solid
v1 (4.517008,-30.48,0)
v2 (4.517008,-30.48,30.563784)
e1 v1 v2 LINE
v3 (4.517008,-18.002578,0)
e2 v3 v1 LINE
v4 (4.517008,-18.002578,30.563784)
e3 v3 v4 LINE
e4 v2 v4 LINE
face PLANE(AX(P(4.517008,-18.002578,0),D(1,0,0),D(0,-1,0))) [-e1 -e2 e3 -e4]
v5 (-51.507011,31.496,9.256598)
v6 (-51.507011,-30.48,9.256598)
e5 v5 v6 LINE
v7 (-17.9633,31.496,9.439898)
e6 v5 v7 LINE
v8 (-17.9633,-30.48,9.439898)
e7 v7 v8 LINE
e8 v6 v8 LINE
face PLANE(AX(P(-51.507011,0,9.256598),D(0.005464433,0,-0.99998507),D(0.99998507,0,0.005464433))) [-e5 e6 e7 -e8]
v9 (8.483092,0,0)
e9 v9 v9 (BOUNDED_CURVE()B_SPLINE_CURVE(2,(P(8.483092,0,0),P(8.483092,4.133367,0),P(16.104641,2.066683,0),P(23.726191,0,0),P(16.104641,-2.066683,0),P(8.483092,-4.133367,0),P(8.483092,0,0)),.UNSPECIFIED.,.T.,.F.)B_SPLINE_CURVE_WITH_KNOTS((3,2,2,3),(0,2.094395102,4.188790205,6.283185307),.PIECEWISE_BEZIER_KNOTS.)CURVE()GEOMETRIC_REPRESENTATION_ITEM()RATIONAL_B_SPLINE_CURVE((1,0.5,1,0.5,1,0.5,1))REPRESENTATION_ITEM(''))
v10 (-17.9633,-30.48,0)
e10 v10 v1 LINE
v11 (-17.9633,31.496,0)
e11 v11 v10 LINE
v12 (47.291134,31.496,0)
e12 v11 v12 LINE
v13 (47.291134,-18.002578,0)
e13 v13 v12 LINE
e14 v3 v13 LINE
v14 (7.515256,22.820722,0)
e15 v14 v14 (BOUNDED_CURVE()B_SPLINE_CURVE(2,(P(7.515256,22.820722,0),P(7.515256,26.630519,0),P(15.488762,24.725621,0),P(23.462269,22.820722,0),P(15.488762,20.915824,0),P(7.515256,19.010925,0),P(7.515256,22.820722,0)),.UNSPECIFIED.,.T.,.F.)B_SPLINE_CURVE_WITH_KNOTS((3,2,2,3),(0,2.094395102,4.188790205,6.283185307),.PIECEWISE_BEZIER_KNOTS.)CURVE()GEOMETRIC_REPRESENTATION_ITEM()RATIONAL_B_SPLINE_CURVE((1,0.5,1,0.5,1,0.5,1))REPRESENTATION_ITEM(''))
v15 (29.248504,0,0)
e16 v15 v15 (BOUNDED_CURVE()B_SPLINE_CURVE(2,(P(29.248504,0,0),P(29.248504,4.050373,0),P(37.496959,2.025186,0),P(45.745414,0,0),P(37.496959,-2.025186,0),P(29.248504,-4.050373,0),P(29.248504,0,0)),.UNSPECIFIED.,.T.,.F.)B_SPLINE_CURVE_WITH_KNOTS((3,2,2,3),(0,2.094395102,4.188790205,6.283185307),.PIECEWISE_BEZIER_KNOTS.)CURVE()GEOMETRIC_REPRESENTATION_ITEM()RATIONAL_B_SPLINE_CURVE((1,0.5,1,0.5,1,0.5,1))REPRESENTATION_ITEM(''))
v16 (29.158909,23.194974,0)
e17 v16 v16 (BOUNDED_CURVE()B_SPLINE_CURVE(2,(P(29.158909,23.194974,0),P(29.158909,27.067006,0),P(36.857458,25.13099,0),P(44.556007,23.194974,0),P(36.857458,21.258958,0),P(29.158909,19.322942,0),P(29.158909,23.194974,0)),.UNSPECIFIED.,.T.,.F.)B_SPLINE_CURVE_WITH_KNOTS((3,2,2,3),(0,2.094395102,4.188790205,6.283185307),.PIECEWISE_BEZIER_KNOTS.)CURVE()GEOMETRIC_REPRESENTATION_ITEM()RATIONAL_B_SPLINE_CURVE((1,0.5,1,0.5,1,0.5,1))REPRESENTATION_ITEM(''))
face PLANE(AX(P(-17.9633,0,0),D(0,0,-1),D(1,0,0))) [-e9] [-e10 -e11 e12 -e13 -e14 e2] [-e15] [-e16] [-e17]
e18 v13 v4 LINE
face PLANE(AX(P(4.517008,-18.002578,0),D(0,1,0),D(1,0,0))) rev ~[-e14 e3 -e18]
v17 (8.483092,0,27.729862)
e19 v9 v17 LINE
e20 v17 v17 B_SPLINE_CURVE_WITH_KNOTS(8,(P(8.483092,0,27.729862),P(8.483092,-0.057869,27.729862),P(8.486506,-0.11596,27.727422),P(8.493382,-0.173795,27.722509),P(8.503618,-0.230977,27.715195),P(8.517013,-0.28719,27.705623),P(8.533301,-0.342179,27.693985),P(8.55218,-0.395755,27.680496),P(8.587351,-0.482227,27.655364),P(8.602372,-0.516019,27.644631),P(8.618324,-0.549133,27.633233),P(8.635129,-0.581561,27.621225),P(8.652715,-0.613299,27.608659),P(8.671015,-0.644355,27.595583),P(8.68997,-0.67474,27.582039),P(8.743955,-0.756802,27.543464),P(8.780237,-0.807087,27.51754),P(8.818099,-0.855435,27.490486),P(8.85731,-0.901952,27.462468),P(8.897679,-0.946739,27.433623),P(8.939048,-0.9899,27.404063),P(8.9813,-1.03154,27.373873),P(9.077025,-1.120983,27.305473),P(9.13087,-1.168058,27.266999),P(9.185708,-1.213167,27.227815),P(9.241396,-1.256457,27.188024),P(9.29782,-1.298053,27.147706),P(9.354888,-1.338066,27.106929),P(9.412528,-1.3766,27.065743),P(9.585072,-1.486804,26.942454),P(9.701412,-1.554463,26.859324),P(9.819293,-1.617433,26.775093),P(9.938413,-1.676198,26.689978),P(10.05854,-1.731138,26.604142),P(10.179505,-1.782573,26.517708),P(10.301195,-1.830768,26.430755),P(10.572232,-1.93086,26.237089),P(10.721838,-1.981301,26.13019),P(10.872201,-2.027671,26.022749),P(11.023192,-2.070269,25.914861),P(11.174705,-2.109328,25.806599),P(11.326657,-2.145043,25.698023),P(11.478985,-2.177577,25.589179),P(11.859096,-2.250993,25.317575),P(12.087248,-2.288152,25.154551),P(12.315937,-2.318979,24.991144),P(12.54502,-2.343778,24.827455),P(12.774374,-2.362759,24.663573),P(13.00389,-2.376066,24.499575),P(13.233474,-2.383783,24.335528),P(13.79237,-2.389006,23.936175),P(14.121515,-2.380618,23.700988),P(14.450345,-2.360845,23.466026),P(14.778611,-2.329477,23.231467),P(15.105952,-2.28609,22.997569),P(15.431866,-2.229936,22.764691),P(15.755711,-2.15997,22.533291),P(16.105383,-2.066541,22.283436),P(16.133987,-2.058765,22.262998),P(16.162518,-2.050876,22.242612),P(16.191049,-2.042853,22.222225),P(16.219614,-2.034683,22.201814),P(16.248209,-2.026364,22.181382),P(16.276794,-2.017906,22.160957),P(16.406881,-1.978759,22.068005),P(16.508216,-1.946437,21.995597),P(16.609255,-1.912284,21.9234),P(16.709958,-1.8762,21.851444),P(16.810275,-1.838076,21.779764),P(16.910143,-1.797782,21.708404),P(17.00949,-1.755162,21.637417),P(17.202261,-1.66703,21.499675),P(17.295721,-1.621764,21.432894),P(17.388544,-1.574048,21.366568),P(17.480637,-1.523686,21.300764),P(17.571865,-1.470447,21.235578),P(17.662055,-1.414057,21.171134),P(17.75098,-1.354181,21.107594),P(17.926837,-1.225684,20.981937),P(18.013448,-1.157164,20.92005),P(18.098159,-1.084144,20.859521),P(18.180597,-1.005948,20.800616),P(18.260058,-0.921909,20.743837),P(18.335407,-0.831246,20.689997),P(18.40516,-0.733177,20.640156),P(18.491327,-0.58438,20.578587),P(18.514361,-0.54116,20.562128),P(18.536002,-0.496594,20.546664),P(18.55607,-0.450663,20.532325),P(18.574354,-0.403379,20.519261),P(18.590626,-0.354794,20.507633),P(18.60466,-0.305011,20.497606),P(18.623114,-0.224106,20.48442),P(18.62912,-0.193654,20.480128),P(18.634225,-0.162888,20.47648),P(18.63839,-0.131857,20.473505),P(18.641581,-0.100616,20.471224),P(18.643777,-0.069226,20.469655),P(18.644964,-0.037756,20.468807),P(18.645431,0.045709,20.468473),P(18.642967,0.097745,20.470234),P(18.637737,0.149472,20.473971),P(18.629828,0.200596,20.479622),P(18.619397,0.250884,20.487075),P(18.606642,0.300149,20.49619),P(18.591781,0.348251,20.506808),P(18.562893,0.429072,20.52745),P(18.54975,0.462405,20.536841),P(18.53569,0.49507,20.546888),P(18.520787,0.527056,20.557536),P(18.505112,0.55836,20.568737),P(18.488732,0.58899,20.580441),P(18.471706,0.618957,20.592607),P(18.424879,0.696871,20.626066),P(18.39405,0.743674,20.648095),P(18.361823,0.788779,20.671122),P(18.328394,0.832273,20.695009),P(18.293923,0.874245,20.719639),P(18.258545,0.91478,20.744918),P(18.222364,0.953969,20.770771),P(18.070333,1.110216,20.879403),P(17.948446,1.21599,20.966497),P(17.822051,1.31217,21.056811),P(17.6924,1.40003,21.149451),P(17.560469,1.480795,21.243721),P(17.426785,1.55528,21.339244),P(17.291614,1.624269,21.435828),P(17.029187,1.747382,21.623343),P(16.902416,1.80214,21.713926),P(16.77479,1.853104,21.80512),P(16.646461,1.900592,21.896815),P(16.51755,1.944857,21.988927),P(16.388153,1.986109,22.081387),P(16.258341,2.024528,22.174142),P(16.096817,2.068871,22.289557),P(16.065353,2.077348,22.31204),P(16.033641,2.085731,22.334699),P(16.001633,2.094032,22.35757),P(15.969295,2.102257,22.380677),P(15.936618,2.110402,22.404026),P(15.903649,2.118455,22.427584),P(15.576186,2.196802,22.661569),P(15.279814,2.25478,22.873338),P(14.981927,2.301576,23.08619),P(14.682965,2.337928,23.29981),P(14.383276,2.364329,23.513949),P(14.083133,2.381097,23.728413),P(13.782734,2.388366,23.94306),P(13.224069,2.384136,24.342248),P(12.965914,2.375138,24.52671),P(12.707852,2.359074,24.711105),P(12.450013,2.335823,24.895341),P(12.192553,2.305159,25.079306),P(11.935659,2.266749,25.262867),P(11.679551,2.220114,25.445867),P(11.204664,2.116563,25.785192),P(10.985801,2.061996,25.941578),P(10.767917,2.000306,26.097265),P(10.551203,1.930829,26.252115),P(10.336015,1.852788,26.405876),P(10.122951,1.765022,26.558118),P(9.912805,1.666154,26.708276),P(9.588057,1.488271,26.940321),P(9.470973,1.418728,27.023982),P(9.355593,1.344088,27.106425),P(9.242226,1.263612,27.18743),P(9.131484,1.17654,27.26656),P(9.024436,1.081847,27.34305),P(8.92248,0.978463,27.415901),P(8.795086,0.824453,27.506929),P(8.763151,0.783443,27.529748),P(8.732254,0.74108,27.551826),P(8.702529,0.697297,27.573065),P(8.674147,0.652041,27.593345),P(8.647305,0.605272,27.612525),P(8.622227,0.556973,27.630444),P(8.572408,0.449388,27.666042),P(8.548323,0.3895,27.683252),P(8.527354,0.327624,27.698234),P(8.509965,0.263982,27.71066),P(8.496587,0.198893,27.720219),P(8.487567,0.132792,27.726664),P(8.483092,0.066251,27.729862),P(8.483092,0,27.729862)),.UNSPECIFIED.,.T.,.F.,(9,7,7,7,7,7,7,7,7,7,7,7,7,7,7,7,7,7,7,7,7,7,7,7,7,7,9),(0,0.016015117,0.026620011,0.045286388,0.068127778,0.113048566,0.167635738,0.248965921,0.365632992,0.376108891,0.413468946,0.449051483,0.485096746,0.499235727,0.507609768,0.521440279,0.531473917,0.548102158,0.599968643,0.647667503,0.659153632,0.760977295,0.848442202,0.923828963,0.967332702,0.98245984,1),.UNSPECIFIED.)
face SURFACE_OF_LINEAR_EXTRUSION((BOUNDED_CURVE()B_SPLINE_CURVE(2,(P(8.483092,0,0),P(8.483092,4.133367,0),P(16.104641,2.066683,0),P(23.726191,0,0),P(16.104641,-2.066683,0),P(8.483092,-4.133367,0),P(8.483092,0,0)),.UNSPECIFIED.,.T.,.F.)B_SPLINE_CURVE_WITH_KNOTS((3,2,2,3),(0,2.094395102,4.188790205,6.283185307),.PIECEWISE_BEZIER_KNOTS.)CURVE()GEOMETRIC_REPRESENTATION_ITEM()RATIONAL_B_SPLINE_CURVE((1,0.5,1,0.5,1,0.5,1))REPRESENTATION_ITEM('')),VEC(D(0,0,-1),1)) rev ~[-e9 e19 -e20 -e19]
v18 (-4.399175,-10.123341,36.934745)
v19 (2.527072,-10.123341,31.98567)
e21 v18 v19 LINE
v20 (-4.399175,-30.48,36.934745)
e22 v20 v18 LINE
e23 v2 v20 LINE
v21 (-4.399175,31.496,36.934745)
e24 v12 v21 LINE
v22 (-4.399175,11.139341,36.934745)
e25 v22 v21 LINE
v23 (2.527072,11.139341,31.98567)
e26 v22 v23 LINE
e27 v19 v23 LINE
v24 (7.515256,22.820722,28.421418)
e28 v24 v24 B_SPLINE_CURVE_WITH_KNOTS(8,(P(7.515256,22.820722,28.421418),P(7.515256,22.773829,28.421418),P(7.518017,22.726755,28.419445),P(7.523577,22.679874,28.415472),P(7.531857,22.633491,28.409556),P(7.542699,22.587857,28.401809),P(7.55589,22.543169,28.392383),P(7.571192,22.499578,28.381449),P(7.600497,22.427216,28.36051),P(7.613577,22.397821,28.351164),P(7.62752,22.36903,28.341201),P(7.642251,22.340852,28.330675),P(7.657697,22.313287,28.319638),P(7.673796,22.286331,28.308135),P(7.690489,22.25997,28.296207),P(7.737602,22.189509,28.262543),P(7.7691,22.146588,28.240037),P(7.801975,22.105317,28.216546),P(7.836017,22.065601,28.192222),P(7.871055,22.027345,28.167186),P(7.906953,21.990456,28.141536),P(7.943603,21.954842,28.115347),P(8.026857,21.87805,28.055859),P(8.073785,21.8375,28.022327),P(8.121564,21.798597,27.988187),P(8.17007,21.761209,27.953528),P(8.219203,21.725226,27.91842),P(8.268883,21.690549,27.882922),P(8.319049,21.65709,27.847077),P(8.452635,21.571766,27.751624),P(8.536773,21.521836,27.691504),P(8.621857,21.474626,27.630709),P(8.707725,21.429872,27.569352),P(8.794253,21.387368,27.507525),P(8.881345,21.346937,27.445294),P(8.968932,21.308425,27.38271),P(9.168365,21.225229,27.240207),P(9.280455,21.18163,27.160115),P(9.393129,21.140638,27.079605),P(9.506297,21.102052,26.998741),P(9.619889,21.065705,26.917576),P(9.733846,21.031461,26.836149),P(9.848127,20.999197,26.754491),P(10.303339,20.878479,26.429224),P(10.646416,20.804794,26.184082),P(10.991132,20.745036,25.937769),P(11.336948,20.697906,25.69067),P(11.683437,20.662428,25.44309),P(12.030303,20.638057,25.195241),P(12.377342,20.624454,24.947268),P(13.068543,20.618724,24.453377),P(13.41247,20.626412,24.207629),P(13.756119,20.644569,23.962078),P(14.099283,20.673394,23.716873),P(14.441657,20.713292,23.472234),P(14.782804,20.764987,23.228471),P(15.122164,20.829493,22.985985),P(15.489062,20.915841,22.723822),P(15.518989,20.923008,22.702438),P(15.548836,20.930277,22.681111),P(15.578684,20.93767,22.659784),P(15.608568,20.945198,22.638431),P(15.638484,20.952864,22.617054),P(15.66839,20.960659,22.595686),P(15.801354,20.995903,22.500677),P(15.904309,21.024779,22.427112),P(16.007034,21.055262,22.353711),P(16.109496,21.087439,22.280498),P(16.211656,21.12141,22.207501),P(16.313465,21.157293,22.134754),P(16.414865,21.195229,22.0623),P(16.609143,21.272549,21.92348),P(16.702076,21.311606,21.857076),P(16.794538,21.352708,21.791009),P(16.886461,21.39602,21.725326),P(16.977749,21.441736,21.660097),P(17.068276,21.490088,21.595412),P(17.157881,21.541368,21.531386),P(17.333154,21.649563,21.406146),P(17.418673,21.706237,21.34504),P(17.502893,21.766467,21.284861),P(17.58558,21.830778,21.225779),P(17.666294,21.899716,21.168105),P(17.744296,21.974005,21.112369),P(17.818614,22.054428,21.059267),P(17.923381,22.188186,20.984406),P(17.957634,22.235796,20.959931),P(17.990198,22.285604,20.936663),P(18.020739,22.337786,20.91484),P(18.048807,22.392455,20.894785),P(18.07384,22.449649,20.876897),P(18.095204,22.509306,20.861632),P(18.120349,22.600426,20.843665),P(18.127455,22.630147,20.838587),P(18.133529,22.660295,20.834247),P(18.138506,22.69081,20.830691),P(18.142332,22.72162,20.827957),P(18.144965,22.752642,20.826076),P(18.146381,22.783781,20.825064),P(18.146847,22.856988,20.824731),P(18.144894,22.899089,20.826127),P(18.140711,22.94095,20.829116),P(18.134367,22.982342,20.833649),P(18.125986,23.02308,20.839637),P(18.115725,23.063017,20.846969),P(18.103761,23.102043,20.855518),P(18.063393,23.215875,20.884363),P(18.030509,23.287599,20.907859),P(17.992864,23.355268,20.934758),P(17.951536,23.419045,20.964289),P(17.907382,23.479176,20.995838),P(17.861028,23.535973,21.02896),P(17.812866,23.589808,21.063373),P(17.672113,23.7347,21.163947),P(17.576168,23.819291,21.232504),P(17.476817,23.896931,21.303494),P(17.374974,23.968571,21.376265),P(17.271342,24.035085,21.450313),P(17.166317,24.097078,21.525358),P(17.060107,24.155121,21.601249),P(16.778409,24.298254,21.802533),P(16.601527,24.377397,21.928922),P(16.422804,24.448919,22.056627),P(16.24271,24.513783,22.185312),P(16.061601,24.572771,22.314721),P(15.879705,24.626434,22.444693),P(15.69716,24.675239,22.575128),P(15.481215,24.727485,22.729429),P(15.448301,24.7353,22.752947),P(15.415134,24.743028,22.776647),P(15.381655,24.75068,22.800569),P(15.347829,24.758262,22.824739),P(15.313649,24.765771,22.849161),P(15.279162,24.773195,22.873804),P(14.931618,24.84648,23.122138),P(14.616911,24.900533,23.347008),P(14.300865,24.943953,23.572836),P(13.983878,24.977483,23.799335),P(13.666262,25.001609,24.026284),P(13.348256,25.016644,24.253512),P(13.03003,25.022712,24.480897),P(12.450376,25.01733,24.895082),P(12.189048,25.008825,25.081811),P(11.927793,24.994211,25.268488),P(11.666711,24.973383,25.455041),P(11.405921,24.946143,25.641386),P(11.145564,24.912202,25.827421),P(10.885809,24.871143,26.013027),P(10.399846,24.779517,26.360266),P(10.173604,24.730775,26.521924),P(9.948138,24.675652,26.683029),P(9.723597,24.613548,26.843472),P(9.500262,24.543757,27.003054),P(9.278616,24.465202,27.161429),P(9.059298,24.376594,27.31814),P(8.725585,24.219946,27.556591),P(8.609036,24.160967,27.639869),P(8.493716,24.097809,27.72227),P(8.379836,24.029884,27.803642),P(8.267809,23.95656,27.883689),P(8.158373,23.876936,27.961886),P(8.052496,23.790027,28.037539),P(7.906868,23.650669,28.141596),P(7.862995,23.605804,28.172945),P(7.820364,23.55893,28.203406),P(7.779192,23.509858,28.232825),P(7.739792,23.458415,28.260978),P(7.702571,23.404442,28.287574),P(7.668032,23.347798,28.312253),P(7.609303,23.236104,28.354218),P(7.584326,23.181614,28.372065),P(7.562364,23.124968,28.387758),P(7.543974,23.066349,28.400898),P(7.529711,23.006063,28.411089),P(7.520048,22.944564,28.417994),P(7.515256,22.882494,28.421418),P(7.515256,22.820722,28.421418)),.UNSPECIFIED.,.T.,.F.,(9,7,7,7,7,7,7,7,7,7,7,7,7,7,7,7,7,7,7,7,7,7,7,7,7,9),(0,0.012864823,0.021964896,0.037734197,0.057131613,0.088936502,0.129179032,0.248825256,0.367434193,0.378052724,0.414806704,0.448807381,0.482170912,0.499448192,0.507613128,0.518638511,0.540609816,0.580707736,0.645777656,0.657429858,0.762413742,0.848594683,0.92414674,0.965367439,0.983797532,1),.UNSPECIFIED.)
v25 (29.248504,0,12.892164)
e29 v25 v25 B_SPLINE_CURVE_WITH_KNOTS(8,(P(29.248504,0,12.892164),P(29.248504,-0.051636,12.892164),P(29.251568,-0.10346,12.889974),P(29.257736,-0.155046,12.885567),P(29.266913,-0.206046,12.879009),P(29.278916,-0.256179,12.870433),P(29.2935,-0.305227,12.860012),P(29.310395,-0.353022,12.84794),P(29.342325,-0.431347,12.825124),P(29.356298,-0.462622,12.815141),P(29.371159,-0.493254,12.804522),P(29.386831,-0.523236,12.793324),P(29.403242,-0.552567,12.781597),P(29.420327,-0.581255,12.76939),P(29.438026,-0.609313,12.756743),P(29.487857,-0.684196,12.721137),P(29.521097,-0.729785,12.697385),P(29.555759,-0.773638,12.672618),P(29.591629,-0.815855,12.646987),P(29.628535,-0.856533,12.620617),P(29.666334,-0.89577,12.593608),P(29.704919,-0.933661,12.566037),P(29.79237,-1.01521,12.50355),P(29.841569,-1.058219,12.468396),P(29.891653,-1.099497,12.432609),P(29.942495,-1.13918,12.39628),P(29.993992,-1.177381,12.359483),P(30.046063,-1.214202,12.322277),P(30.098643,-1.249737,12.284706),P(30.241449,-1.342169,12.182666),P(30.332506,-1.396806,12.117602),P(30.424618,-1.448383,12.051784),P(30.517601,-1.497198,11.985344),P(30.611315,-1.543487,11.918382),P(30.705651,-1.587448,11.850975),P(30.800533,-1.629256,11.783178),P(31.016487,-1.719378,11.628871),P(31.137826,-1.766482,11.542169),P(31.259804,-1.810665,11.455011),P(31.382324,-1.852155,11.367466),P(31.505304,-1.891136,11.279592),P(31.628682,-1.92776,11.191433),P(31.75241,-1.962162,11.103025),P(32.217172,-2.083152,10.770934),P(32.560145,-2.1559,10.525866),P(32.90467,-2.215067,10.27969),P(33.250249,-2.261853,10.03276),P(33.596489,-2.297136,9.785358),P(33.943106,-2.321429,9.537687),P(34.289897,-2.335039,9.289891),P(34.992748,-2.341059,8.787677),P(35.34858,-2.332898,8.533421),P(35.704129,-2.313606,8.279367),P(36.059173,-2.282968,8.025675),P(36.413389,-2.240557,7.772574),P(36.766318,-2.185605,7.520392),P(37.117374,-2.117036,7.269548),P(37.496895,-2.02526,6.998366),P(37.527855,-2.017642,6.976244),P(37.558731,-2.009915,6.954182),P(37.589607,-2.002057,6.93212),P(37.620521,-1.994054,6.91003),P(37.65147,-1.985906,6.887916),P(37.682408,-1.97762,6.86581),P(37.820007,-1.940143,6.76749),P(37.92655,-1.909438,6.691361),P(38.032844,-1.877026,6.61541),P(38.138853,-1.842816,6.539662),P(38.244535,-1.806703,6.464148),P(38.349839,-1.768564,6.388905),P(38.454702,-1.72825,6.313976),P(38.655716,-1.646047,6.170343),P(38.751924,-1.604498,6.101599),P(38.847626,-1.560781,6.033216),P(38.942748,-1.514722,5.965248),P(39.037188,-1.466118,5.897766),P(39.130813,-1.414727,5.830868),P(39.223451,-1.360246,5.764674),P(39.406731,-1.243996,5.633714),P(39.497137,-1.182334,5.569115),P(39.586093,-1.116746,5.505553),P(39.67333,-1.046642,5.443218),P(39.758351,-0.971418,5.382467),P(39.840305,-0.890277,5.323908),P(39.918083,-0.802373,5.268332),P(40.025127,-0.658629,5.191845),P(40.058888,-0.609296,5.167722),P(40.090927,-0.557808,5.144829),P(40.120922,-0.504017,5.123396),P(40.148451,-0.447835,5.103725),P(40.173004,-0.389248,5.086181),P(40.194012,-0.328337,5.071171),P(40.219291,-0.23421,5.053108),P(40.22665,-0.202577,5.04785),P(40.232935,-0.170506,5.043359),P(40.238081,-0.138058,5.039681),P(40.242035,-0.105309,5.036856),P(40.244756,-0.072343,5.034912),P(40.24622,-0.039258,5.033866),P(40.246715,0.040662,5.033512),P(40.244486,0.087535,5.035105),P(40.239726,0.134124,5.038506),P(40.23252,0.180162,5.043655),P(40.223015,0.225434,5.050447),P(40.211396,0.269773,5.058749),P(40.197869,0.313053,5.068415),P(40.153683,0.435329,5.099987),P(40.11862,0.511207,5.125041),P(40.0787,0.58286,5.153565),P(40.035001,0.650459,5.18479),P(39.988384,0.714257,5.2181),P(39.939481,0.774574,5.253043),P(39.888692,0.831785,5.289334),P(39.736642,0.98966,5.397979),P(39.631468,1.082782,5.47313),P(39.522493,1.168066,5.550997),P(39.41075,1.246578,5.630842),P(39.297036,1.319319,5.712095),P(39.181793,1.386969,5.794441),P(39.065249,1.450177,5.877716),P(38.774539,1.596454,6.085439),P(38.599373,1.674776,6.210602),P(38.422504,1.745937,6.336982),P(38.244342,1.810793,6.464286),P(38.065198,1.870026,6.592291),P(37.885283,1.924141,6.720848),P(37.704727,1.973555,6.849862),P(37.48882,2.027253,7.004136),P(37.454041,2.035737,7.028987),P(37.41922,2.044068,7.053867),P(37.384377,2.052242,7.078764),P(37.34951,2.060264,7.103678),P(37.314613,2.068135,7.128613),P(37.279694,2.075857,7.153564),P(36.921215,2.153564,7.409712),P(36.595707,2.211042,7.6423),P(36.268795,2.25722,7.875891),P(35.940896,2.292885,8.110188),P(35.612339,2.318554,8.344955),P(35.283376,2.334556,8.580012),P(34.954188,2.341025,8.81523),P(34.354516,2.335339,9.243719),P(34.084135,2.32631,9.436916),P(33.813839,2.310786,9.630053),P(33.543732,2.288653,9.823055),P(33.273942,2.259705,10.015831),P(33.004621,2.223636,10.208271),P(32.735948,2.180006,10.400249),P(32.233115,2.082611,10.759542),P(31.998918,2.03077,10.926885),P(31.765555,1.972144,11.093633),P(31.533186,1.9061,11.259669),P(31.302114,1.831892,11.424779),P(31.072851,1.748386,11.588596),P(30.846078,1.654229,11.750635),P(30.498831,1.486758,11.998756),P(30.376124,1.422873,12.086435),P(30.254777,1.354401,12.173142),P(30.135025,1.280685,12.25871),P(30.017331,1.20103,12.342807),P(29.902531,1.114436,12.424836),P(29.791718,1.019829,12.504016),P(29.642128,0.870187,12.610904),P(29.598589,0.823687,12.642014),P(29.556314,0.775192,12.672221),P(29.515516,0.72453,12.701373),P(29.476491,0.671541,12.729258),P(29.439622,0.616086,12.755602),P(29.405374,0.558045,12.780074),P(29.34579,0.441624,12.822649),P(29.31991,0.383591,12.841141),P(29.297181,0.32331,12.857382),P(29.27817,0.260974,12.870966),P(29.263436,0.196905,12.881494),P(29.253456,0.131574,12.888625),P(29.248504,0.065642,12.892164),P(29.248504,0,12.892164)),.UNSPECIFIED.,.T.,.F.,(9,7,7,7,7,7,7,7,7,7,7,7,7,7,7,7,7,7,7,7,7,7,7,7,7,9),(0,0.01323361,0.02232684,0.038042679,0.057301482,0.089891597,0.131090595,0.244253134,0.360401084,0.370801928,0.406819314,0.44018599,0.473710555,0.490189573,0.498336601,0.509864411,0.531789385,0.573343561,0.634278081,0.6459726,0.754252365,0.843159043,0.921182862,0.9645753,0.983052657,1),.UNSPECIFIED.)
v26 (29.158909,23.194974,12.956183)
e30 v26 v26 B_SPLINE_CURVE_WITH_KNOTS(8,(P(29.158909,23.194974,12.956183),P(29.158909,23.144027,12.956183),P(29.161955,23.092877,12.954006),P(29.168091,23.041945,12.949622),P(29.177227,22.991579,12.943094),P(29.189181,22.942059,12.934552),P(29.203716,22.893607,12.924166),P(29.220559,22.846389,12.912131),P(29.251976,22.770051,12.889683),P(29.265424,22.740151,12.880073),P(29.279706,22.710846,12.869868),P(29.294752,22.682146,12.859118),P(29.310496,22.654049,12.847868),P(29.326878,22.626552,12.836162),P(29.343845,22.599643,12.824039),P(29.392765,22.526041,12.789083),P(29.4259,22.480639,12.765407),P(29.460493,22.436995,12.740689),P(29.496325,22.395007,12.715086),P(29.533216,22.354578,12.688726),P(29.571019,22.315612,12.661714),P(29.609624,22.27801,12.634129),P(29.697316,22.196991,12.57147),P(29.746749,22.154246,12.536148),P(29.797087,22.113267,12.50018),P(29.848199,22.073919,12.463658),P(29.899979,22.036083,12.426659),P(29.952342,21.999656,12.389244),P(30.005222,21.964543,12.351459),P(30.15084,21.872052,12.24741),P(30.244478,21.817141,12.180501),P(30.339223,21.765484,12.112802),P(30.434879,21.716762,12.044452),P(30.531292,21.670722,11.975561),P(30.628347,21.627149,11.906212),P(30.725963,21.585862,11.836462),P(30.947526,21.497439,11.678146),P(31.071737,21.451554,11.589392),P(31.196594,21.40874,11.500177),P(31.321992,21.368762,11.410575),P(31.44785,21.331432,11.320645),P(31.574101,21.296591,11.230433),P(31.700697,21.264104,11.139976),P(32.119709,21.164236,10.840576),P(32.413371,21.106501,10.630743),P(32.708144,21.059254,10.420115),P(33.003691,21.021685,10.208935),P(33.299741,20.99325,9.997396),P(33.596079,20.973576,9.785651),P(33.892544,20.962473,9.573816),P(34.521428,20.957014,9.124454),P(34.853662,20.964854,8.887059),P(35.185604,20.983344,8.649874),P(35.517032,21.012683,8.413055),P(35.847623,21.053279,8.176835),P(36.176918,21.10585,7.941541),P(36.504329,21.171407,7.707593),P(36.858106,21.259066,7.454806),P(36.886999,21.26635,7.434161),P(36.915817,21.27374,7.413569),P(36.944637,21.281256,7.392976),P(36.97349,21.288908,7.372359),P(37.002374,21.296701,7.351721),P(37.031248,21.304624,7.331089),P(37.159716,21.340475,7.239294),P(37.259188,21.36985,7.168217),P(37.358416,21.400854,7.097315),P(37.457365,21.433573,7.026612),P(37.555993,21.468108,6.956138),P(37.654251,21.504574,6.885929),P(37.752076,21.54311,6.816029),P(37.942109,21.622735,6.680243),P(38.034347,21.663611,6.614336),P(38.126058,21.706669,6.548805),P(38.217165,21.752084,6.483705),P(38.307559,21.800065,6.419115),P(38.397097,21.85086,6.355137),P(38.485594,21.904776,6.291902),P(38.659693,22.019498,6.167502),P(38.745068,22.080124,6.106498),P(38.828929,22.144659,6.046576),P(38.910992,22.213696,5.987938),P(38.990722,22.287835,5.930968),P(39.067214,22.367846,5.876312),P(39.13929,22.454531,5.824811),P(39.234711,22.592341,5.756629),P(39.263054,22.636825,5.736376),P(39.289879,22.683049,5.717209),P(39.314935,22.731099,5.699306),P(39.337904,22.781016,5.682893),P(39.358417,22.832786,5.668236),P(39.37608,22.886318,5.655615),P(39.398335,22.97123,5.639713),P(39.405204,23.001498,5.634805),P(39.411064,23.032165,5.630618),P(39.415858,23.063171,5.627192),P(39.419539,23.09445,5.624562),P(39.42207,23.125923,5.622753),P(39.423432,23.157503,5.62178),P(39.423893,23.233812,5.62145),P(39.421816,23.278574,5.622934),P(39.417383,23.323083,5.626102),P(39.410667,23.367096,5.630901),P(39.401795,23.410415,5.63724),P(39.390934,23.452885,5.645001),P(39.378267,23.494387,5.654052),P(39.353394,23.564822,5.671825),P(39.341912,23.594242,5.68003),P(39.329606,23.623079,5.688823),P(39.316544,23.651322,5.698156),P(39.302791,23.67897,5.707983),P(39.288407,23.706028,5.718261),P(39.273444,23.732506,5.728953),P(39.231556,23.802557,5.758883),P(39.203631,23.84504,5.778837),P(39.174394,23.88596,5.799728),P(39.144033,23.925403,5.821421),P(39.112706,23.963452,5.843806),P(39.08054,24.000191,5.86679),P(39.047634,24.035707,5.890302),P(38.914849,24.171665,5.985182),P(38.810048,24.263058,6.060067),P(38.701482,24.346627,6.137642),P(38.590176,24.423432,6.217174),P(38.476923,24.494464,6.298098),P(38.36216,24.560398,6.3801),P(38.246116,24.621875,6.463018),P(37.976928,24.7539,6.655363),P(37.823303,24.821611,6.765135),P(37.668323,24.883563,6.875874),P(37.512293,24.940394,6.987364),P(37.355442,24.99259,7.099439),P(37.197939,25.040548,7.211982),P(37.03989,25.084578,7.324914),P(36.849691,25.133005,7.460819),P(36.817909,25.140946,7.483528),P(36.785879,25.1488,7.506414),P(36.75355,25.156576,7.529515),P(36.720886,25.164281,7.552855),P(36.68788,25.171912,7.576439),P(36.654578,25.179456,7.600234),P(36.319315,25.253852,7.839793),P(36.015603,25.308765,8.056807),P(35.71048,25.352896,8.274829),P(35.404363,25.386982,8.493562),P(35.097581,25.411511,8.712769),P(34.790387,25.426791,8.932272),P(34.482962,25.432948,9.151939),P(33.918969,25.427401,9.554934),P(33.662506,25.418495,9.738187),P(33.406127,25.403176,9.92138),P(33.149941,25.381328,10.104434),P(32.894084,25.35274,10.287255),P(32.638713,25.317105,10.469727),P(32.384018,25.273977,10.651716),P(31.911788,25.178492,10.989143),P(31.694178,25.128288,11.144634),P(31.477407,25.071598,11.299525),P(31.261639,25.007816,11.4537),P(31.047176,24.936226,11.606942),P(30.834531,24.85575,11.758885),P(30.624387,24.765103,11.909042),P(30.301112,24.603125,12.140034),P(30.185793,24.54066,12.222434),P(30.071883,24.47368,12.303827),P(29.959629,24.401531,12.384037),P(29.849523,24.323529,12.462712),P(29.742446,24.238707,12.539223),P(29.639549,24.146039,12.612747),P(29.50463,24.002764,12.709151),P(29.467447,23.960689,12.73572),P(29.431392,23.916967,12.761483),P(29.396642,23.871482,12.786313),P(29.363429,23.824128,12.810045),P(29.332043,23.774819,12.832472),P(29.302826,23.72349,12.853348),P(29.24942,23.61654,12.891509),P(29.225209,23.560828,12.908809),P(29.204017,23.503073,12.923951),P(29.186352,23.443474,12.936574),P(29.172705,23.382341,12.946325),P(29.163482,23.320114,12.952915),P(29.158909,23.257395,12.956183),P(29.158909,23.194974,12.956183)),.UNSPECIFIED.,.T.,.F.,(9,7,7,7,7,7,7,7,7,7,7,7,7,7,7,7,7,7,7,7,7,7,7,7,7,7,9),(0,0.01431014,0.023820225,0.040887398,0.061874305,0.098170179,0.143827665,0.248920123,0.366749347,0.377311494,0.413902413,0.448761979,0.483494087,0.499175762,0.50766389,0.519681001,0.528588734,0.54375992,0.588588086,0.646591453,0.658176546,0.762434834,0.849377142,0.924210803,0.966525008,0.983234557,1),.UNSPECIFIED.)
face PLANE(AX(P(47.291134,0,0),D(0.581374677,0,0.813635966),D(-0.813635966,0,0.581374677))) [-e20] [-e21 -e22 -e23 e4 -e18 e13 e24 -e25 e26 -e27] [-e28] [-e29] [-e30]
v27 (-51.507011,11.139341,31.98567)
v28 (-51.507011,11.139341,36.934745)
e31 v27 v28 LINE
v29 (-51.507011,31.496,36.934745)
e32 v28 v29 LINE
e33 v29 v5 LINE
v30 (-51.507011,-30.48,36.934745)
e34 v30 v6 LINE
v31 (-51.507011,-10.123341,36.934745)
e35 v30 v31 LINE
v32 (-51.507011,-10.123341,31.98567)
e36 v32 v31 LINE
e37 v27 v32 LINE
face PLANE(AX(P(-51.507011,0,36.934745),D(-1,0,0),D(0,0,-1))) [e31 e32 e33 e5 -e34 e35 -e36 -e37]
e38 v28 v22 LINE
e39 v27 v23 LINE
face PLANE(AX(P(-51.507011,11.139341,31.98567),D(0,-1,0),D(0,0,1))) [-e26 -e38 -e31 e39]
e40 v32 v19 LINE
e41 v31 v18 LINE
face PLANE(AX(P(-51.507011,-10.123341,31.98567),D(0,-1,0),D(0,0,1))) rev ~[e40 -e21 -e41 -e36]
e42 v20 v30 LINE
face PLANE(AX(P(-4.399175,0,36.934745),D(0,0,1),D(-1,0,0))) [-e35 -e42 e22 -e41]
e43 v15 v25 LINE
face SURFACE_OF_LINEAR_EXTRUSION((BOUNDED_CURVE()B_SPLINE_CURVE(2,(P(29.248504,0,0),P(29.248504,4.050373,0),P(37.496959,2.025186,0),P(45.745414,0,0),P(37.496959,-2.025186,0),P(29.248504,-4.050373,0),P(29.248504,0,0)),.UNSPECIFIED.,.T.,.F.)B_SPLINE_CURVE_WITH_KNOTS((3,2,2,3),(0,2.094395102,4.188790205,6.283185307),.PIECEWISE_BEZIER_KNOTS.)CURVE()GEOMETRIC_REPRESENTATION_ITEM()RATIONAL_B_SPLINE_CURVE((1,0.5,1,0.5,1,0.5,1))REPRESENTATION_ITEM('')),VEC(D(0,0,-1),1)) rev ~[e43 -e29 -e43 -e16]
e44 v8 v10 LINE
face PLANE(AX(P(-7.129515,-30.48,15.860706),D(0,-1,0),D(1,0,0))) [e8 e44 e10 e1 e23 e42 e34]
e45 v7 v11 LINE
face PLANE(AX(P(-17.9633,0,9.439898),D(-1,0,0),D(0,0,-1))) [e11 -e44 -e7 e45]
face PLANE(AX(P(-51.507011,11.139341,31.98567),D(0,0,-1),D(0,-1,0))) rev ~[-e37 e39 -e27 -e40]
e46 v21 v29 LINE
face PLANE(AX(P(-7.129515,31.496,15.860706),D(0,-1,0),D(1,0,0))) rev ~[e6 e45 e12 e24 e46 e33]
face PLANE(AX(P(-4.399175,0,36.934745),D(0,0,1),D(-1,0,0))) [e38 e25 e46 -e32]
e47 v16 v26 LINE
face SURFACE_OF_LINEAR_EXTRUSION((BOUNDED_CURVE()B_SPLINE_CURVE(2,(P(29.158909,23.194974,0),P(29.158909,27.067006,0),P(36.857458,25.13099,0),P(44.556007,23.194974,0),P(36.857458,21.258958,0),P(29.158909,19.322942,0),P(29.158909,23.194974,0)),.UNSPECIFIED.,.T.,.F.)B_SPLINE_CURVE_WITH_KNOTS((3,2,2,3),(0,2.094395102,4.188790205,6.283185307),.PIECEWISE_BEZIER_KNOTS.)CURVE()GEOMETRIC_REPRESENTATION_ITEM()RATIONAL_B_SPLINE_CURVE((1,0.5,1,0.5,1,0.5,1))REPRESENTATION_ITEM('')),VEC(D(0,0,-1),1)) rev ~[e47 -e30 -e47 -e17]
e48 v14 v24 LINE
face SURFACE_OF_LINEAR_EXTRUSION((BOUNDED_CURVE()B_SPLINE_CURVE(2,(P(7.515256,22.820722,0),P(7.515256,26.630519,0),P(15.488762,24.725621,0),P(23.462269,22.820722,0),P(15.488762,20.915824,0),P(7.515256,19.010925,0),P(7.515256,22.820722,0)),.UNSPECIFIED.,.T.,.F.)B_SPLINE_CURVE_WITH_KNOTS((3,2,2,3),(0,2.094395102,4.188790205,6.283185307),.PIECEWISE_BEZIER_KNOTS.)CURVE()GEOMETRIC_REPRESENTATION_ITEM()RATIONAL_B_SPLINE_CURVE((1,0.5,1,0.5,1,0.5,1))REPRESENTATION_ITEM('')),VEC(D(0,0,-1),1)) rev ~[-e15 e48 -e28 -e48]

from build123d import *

# Parameters (mm, degrees)
F1_DEPTH      = 30.48
F1_DEPTH_BACK = 31.496
F2_W          = 21.2626811117
F2_H          = 4.9490742385
F3_DEPTH      = 62.23
F4_W          = 42.7741259336
F4_H          = 12.4774224401
F5_DEPTH      = 50.038
F7_DEPTH      = 40.386


with BuildPart() as f1:
    # F0 (on Front) → F1 (new body, two sides)
    with BuildSketch(Plane.XZ) as f1_sk:
        Polygon((-51.5070110559, 36.9347445667), (-51.5070110559, 9.2565976083), (-17.9632995278, 9.4398977235), (-17.9632995278, 0), (47.2911335528, 0), (-4.39917529, 36.9347445667), (-39.2259806395, 36.9347445667), align=None)
    extrude(amount=F1_DEPTH)
    extrude(f1_sk.sketch, amount=-F1_DEPTH_BACK)

    # F2 (on face) → F3 (cut)
    with BuildSketch(Plane(origin=(-51.5070110559, 0, 0), x_dir=(0, -1, 0), z_dir=(-1, 0, 0))):
        with Locations((-0.508, 34.4602074474)):
            Rectangle(F2_W, F2_H)
    extrude(amount=-F3_DEPTH, mode=Mode.SUBTRACT)

    # F4 (on face) → F5 (cut)
    with BuildSketch(Plane(origin=(0, 0, 0), x_dir=(1, 0, 0), z_dir=(0, 0, -1))):
        with Locations((25.904070586, 24.24128878)):
            Rectangle(F4_W, F4_H)
    extrude(amount=-F5_DEPTH, mode=Mode.SUBTRACT)

    # F6 (on face) → F7 (cut)
    with BuildSketch(Plane(origin=(0, 0, 0), x_dir=(1, 0, 0), z_dir=(0, 0, -1))):
        with BuildLine():
            add(Edge.make_bspline(
                [(8.4830916408, 0), (8.4830916408, -4.1333669656), (16.1046412347, -2.0666834828), (23.7261908286, 0), (16.1046412347, 2.0666834828), (8.4830916408, 4.1333669656), (8.4830916408, 0)],
                knots=[0, 0, 0, 2.0943951024, 2.0943951024, 4.1887902048, 4.1887902048, 6.2831853072, 6.2831853072, 6.2831853072], degree=2, weights=[1, 0.5, 1, 0.5, 1, 0.5, 1]))
        make_face()
        with BuildLine():
            add(Edge.make_bspline(
                [(7.5152562931, -22.8207223117), (7.5152562931, -26.6305194653), (15.4887624085, -24.7256208885), (23.4622685239, -22.8207223117), (15.4887624085, -20.9158237349), (7.5152562931, -19.0109251582), (7.5152562931, -22.8207223117)],
                knots=[0, 0, 0, 2.0943951024, 2.0943951024, 4.1887902048, 4.1887902048, 6.2831853072, 6.2831853072, 6.2831853072], degree=2, weights=[1, 0.5, 1, 0.5, 1, 0.5, 1]))
        make_face()
        with BuildLine():
            add(Edge.make_bspline(
                [(29.1589088738, -23.1949742883), (29.1589088738, -27.0670063105), (36.8574578315, -25.1309902994), (44.5560067892, -23.1949742883), (36.8574578315, -21.2589582773), (29.1589088738, -19.3229422662), (29.1589088738, -23.1949742883)],
                knots=[0, 0, 0, 2.0943951024, 2.0943951024, 4.1887902048, 4.1887902048, 6.2831853072, 6.2831853072, 6.2831853072], degree=2, weights=[1, 0.5, 1, 0.5, 1, 0.5, 1]))
        make_face()
        with BuildLine():
            add(Edge.make_bspline(
                [(29.2485039681, 0), (29.2485039681, -4.0503729429), (37.4969588593, -2.0251864715), (45.7454137504, 0), (37.4969588593, 2.0251864715), (29.2485039681, 4.0503729429), (29.2485039681, 0)],
                knots=[0, 0, 0, 2.0943951024, 2.0943951024, 4.1887902048, 4.1887902048, 6.2831853072, 6.2831853072, 6.2831853072], degree=2, weights=[1, 0.5, 1, 0.5, 1, 0.5, 1]))
        make_face()
    extrude(amount=-F7_DEPTH, mode=Mode.SUBTRACT)


solid = f1.part
